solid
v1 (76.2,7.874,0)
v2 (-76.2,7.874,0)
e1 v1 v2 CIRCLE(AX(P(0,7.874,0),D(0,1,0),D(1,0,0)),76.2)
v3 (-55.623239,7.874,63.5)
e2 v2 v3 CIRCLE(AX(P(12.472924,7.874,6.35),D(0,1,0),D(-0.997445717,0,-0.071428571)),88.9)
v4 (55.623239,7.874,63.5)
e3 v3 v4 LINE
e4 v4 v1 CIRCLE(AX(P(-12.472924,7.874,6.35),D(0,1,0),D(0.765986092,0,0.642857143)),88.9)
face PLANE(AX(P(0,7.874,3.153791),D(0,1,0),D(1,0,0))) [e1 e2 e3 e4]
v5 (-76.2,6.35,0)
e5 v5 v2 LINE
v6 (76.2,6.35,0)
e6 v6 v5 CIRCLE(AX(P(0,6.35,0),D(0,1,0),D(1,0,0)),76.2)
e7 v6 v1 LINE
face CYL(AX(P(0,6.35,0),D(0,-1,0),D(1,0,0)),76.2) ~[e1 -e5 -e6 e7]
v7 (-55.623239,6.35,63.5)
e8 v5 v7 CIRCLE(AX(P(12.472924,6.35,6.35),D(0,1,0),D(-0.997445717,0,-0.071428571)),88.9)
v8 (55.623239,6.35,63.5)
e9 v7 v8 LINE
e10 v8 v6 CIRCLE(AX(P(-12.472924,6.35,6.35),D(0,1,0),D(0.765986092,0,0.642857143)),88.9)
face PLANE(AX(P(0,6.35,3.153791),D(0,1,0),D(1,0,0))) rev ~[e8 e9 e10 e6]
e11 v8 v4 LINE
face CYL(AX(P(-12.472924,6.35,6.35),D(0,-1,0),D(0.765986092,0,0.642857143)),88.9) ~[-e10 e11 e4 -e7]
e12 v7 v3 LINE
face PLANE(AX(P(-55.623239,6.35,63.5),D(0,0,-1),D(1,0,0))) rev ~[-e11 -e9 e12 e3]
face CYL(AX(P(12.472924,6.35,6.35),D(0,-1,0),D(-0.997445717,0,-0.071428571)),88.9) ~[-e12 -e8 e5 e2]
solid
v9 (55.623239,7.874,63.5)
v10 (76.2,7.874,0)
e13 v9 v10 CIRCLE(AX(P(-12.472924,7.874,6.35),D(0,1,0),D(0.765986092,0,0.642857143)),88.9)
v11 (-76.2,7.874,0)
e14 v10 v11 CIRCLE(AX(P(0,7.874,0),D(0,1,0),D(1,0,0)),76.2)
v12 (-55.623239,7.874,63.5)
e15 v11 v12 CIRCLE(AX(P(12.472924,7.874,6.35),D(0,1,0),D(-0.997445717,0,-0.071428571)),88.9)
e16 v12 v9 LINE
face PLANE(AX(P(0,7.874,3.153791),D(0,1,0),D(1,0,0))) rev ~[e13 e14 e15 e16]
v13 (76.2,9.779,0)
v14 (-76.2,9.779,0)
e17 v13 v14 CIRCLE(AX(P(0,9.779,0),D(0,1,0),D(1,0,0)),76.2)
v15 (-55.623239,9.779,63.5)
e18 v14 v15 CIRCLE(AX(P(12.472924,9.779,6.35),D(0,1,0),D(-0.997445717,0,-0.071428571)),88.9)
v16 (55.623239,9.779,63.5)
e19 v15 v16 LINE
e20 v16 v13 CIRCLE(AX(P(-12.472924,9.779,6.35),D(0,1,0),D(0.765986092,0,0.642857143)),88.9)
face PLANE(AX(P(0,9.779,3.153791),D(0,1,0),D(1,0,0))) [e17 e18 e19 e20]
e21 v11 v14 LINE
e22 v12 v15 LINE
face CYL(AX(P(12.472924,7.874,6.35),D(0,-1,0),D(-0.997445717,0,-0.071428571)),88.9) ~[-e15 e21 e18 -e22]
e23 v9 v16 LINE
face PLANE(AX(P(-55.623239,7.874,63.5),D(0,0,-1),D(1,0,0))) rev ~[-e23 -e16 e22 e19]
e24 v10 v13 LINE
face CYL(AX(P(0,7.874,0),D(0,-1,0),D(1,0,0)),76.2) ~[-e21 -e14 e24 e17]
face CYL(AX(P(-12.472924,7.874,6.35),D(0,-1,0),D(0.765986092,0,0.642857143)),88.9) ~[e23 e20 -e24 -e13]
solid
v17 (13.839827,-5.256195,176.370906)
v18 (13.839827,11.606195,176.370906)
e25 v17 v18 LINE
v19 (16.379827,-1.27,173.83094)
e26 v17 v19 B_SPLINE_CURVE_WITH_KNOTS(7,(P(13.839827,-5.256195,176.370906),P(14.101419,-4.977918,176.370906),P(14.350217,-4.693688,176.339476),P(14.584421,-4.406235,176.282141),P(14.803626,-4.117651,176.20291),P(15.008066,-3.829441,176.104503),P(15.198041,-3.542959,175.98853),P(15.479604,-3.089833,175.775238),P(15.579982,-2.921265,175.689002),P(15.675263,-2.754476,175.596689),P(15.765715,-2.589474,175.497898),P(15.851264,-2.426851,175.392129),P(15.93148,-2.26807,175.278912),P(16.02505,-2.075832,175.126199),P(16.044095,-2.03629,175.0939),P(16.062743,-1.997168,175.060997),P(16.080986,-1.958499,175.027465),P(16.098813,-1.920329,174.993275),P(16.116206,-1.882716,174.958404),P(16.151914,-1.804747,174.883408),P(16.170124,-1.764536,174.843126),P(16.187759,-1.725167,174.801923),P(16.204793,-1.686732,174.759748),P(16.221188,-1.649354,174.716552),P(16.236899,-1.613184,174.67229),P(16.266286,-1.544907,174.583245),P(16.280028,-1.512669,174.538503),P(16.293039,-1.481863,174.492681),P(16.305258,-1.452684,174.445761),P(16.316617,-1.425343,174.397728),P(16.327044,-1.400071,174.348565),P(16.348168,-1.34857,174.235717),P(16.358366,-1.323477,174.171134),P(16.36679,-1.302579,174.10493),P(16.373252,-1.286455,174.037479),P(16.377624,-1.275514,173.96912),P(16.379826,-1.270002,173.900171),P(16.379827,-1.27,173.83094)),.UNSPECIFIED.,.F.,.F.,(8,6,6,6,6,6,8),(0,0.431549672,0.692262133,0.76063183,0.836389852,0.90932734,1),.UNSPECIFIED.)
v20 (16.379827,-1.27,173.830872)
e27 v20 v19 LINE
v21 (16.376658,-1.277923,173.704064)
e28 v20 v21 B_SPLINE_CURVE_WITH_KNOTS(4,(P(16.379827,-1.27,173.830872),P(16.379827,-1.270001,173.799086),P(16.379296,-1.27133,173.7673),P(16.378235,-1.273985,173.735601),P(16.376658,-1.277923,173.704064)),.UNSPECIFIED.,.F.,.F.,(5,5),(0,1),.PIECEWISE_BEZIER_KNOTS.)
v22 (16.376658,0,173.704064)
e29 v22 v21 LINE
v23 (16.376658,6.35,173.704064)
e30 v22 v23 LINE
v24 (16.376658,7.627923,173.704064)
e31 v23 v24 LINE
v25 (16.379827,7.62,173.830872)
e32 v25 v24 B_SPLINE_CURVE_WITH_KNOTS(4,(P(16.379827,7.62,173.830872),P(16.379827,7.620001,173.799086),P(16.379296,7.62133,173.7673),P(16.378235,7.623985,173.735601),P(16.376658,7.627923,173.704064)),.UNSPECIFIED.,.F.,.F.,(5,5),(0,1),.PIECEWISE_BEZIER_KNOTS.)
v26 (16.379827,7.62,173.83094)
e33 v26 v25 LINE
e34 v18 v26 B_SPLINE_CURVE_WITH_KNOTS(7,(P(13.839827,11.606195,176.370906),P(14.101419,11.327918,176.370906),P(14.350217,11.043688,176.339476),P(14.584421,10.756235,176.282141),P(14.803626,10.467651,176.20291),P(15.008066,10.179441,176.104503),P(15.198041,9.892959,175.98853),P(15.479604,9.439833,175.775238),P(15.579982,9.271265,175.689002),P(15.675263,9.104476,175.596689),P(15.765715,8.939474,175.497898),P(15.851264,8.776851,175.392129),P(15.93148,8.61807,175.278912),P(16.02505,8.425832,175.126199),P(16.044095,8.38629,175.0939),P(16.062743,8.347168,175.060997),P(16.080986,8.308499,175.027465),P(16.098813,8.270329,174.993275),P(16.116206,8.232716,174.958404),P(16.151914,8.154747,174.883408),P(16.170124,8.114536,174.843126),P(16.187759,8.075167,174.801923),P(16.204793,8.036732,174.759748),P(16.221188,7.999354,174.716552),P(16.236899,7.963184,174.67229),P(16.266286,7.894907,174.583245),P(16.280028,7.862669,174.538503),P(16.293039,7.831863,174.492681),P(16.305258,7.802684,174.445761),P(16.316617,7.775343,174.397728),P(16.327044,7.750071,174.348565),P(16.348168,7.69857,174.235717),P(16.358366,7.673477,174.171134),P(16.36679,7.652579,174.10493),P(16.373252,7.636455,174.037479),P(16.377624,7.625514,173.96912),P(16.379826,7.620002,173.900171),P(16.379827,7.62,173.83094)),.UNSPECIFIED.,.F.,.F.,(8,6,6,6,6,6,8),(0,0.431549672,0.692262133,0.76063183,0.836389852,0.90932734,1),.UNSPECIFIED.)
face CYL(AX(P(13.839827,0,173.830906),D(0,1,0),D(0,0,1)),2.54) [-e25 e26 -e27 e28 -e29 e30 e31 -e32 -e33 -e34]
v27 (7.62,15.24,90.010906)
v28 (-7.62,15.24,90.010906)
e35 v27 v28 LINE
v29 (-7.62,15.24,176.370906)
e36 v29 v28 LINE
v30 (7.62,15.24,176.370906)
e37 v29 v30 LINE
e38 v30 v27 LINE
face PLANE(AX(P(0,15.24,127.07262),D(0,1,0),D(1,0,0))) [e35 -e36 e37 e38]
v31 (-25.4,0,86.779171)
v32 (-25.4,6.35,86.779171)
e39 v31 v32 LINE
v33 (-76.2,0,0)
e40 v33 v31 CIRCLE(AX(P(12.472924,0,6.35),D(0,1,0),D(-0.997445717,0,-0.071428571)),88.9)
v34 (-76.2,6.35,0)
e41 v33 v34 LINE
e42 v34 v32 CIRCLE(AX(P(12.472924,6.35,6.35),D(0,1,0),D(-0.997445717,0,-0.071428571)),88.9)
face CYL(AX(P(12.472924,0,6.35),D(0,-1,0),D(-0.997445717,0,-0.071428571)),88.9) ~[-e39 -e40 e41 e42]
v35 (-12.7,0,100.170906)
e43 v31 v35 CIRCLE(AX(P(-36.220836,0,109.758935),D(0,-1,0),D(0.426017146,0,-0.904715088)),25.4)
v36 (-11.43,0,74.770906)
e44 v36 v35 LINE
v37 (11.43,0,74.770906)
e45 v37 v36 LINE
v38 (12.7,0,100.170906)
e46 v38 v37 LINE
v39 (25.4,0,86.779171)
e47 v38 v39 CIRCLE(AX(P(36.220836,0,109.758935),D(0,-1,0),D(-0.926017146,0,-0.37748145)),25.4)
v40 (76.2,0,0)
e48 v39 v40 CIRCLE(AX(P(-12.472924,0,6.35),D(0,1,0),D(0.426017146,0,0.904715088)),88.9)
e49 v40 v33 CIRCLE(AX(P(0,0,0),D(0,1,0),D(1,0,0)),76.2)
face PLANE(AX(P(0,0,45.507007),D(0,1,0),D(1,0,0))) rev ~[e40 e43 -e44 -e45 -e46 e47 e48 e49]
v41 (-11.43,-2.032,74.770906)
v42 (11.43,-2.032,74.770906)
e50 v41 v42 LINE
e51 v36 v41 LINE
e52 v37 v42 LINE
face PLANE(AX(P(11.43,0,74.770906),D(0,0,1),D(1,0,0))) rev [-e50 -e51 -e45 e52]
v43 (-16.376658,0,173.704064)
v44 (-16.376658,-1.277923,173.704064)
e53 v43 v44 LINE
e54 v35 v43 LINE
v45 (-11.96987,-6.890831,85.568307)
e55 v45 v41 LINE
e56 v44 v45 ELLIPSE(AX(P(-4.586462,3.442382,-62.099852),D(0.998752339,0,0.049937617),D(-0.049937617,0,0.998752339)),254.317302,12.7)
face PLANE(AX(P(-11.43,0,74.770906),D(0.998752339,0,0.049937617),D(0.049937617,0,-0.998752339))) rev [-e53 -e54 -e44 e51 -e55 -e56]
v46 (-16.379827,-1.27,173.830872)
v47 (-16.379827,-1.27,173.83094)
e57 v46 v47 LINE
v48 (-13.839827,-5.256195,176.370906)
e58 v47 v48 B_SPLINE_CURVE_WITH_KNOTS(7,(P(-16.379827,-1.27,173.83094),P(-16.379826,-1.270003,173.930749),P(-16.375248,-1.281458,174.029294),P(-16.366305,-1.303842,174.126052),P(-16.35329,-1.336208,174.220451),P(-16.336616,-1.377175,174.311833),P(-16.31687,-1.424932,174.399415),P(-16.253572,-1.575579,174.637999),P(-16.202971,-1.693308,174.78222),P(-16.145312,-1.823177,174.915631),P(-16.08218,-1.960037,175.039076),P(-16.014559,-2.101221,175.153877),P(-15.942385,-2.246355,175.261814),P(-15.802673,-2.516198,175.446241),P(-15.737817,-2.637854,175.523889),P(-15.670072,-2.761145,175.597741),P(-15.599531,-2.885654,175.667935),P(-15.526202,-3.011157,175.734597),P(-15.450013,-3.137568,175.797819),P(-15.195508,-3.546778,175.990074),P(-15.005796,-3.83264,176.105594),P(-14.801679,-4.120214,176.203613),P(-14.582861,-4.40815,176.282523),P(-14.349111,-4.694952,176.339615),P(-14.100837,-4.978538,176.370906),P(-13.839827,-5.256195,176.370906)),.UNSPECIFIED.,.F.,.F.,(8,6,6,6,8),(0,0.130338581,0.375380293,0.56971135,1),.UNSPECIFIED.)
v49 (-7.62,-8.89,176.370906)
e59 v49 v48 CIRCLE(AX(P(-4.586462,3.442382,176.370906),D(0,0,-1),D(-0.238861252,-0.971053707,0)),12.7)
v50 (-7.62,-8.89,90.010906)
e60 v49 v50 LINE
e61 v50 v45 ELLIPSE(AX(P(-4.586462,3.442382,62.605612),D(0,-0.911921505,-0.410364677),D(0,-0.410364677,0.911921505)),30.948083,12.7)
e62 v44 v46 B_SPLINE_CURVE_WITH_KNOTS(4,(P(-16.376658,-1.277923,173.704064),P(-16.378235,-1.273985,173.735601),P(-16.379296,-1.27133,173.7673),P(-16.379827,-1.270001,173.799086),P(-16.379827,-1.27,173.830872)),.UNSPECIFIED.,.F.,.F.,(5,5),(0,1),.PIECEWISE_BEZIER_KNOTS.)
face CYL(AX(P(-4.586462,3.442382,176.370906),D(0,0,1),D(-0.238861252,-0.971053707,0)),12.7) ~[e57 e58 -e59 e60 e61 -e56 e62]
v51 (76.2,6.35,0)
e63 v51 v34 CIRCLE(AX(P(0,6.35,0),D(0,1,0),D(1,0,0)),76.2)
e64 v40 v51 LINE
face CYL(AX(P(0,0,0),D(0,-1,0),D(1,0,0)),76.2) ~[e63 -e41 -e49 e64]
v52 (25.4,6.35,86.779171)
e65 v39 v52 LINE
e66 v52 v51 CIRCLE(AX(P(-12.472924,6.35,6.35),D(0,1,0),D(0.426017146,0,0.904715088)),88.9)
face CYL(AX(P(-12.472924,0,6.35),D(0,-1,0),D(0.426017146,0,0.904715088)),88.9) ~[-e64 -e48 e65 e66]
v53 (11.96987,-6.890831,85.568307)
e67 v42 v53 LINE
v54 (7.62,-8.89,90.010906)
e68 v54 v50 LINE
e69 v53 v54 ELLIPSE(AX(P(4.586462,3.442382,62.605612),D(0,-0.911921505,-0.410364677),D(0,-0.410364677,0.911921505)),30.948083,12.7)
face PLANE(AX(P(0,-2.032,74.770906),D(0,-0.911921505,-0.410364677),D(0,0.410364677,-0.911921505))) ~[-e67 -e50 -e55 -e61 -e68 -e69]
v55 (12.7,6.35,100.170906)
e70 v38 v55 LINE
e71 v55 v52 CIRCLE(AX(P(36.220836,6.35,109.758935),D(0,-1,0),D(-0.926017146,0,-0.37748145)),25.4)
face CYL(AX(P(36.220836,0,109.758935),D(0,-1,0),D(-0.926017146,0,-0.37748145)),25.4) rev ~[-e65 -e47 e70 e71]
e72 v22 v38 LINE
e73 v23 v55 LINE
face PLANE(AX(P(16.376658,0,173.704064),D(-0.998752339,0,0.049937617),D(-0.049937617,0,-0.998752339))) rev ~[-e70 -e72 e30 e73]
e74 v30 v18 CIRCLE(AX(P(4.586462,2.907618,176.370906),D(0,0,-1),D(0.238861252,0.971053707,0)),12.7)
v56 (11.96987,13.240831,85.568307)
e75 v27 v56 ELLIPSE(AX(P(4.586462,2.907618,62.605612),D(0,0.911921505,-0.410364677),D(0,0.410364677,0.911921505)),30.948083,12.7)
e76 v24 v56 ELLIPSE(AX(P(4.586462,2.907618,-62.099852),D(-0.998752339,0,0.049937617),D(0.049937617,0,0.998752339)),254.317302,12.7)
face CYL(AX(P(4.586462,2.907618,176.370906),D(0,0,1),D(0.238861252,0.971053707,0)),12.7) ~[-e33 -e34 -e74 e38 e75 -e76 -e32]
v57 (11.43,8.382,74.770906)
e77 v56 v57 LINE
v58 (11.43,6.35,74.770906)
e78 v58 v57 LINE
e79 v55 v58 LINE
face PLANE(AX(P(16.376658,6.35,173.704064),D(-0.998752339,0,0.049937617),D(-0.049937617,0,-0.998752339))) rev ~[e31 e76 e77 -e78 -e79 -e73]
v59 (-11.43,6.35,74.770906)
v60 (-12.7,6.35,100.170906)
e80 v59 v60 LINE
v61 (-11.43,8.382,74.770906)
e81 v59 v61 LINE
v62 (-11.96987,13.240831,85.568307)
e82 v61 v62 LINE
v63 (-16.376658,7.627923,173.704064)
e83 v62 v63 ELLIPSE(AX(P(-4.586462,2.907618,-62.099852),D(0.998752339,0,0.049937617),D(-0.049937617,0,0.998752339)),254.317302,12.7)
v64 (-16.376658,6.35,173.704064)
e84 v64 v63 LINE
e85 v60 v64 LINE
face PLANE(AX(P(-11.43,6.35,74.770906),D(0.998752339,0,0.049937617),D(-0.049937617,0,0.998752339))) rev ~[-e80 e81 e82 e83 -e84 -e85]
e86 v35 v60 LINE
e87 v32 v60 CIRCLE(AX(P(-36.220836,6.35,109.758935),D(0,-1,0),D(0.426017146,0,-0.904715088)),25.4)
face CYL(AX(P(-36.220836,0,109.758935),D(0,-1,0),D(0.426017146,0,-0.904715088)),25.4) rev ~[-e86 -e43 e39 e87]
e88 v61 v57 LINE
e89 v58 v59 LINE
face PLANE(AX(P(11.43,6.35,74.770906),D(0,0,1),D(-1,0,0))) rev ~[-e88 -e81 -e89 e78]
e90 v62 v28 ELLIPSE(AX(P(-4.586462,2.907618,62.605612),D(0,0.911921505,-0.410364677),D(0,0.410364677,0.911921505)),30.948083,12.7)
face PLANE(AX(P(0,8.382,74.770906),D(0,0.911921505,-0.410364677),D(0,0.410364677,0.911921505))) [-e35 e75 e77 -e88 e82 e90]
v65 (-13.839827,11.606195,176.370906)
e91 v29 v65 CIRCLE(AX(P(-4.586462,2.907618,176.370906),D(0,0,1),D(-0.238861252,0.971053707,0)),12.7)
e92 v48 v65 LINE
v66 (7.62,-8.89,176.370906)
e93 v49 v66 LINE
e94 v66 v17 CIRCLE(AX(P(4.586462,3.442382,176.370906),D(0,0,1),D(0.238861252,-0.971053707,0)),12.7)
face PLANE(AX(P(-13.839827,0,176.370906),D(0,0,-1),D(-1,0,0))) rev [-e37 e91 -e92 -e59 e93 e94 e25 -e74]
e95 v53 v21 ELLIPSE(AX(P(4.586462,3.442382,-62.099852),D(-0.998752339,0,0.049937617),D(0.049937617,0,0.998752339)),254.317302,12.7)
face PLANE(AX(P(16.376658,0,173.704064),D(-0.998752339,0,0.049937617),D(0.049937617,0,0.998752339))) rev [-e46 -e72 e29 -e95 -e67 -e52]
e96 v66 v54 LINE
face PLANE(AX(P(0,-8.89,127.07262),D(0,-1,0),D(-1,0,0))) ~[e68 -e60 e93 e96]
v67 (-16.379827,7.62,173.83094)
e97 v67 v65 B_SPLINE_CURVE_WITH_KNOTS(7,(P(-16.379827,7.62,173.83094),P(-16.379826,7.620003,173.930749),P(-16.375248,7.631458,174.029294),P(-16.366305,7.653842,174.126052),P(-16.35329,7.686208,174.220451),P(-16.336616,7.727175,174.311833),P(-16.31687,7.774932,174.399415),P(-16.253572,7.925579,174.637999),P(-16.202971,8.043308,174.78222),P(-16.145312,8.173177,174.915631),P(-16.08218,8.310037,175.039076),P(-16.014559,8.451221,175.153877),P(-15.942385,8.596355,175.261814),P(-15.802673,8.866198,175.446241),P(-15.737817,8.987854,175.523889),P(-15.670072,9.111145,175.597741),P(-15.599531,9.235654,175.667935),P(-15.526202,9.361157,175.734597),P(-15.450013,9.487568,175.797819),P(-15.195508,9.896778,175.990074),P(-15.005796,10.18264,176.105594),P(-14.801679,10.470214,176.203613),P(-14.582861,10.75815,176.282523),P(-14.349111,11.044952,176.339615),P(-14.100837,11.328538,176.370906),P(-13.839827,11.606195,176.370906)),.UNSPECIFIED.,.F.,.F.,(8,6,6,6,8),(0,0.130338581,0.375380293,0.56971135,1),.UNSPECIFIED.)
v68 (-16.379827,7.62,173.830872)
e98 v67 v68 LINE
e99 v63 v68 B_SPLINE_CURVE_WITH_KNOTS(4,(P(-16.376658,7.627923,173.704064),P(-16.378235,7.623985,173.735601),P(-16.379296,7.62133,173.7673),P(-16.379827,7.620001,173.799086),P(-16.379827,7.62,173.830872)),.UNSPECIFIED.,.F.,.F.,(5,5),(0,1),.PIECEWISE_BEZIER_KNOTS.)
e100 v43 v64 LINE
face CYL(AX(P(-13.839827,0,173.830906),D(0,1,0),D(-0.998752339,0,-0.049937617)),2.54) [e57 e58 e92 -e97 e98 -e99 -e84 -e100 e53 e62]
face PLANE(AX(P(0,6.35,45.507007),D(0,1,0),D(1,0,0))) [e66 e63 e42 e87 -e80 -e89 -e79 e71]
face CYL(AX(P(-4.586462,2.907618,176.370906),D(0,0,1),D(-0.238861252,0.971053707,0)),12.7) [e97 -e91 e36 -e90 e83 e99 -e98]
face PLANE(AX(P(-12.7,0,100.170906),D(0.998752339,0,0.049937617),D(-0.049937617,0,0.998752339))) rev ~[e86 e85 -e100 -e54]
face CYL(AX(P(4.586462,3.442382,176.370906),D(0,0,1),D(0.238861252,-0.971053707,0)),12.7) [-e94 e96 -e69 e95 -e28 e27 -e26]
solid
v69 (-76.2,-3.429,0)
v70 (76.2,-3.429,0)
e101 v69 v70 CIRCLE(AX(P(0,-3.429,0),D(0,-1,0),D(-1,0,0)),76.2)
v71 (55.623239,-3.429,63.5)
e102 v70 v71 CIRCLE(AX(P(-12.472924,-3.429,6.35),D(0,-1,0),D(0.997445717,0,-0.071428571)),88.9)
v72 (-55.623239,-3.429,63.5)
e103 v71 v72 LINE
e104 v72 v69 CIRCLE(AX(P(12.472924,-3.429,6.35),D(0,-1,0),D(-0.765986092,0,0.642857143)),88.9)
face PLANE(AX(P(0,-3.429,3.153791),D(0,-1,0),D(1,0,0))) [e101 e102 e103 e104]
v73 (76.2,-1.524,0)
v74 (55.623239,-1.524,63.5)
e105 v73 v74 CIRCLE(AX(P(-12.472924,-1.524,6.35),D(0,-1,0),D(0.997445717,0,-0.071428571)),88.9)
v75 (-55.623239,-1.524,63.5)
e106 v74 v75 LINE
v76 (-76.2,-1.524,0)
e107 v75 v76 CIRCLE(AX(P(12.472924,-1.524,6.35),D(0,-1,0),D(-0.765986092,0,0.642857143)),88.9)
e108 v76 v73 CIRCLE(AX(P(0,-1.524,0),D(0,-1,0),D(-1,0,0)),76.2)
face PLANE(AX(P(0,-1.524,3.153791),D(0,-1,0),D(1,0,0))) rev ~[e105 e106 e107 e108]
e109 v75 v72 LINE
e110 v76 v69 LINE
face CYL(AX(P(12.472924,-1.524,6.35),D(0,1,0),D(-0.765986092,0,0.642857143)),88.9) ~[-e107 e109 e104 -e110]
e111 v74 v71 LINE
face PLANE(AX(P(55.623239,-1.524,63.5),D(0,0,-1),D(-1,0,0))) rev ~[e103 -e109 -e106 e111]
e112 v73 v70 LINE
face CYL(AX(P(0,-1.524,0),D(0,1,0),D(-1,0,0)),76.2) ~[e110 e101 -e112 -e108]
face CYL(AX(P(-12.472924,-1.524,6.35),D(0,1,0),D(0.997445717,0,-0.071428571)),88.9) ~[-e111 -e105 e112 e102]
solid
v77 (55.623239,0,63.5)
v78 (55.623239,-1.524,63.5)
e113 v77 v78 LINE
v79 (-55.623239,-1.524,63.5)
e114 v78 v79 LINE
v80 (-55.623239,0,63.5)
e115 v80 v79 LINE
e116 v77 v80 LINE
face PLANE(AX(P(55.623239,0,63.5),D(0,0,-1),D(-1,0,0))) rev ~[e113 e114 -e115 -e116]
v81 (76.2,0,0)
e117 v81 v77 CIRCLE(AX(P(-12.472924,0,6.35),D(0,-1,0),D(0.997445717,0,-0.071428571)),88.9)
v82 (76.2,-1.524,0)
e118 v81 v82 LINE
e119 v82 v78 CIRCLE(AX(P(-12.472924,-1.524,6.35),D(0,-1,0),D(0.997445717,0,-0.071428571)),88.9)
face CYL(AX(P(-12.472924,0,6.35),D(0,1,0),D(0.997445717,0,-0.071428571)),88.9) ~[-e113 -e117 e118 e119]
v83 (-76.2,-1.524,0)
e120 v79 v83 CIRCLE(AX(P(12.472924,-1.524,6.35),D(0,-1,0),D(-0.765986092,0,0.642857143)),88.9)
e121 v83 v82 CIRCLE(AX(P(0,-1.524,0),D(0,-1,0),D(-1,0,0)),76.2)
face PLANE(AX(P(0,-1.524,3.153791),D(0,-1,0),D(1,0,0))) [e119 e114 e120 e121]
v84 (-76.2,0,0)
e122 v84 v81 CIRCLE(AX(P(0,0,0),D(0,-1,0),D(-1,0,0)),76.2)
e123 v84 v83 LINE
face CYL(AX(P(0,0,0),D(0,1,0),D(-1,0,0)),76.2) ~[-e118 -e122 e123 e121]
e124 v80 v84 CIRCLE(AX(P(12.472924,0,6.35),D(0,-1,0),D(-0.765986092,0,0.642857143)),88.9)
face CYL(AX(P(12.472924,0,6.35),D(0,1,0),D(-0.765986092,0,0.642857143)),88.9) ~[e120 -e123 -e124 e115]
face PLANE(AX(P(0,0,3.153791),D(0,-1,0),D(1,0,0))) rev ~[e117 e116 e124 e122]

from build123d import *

# Parameters (mm, degrees)
BOSS_EXTRUDE1_DEPTH = 6.35
BOSS_EXTRUDE2_DEPTH = 1.524
BOSS_EXTRUDE4_DEPTH = 1.905
BOSS_EXTRUDE5_DEPTH = 1.524
BOSS_EXTRUDE6_DEPTH = 1.905
BOSS_EXTRUDE7_DEPTH = 8.89
CUT_EXTRUDE1_DEPTH  = 101.6
CUT_EXTRUDE2_DEPTH  = 25.4


with BuildPart() as part:
    # Sketch2 → Boss-Extrude1 (new body)
    with BuildSketch(Plane(origin=(0, 0, 0), x_dir=(1, 0, 0), z_dir=(0, 1, 0))):
        with BuildLine():
            Line((-12.7, -100.170905775), (-16.376657923, -173.704064228))
            ThreePointArc((-16.376657923, -173.704064228), (-15.680177156, -175.581537443), (-13.839826982, -176.370905775))
            Line((-13.839826982, -176.370905775), (13.839826982, -176.370905775))
            ThreePointArc((13.839826982, -176.370905775), (15.680177156, -175.581537443), (16.376657923, -173.704064228))
            Line((16.376657923, -173.704064228), (12.7, -100.170905775))
            ThreePointArc((12.7, -100.170905775), (17.790636658, -92.280726172), (25.4, -86.779171366))
            ThreePointArc((25.4, -86.779171366), (64.24812298, -51.26203522), (76.2, 0))
            ThreePointArc((76.2, 0), (0, 76.2), (-76.2, 0))
            ThreePointArc((-76.2, 0), (-64.24812298, -51.26203522), (-25.4, -86.779171366))
            ThreePointArc((-25.4, -86.779171366), (-17.790636658, -92.280726172), (-12.7, -100.170905775))
        make_face()
    extrude(amount=BOSS_EXTRUDE1_DEPTH)

    # Sketch7 → Boss-Extrude7 (add)
    with BuildSketch(Plane(origin=(0, 6.35, 0), x_dir=(1, 0, 0), z_dir=(0, 1, 0))):
        with BuildLine():
            Line((-11.43, -74.770905775), (-16.376657923, -173.704064228))
            ThreePointArc((-16.376657923, -173.704064228), (-15.680177156, -175.581537443), (-13.839826982, -176.370905775))
            Line((-13.839826982, -176.370905775), (13.839826982, -176.370905775))
            ThreePointArc((13.839826982, -176.370905775), (15.680177156, -175.581537443), (16.376657923, -173.704064228))
            Line((16.376657923, -173.704064228), (11.43, -74.770905775))
            Line((11.43, -74.770905775), (-11.43, -74.770905775))
        make_face()
    boss_extrude7 = extrude(amount=BOSS_EXTRUDE7_DEPTH)

    # Sketch8 → Cut-Extrude1 (cut)
    with BuildSketch(Plane.XY.offset(176.370905775)):
        with BuildLine():
            Line((-13.839826982, 15.24), (-7.62, 15.24))
            ThreePointArc((-7.62, 15.24), (-12.921650252, 12.489613458), (-16.379826982, 7.62))
            Line((-16.379826982, 7.62), (-16.379826982, 15.24))
            Line((-16.379826982, 15.24), (-13.839826982, 15.24))
        make_face()
        with BuildLine():
            Line((16.379826982, 15.24), (13.839826982, 15.24))
            Line((13.839826982, 15.24), (7.62, 15.24))
            ThreePointArc((7.62, 15.24), (12.921650252, 12.489613458), (16.379826982, 7.62))
            Line((16.379826982, 7.62), (16.379826982, 15.24))
        make_face()
    cut_extrude1 = extrude(amount=-CUT_EXTRUDE1_DEPTH, mode=Mode.SUBTRACT)

    # Sketch9 → Cut-Extrude2 (cut, symmetric)
    with BuildSketch(Plane(origin=(0, 0, -0.19192658), x_dir=(0, 0, -1), z_dir=(1, 0, 0))):
        Polygon((-74.962832355, 8.382), (-90.202832355, 15.24), (-74.962832355, 15.24), align=None)
    cut_extrude2 = extrude(amount=CUT_EXTRUDE2_DEPTH, both=True, mode=Mode.SUBTRACT)

    # Mirror8: Boss-Extrude7, Cut-Extrude1, Cut-Extrude2 across plane
    add(boss_extrude7.mirror(Plane.ZX.offset(3.175)))
    add(cut_extrude1.mirror(Plane.ZX.offset(3.175)), mode=Mode.SUBTRACT)
    add(cut_extrude2.mirror(Plane.ZX.offset(3.175)), mode=Mode.SUBTRACT)


with BuildPart() as body_2:
    # Sketch3 → Boss-Extrude2 (new body)
    with BuildSketch(Plane(origin=(0, 6.35, 0), x_dir=(1, 0, 0), z_dir=(0, 1, 0))):
        with BuildLine():
            Line((-55.623239344, -63.5), (55.623239344, -63.5))
            ThreePointArc((55.623239344, -63.5), (72.09775167, -33.754575709), (76.2, 0))
            ThreePointArc((76.2, 0), (0, 76.2), (-76.2, 0))
            ThreePointArc((-76.2, 0), (-72.09775167, -33.754575709), (-55.623239344, -63.5))
        make_face()
    extrude(amount=BOSS_EXTRUDE2_DEPTH)


with BuildPart() as body_3:
    # Sketch4 → Boss-Extrude4 (new body)
    with BuildSketch(Plane(origin=(0, 7.874, 0), x_dir=(1, 0, 0), z_dir=(0, 1, 0))):
        with BuildLine():
            Line((-55.623239344, -63.5), (55.623239344, -63.5))
            ThreePointArc((55.623239344, -63.5), (72.09775167, -33.754575709), (76.2, 0))
            ThreePointArc((76.2, 0), (0, 76.2), (-76.2, 0))
            ThreePointArc((-76.2, 0), (-72.09775167, -33.754575709), (-55.623239344, -63.5))
        make_face()
    extrude(amount=BOSS_EXTRUDE4_DEPTH)


with BuildPart() as body_4:
    # Sketch5 → Boss-Extrude5 (new body)
    with BuildSketch(Plane.XZ):
        with BuildLine():
            Line((55.623239344, 63.5), (-55.623239344, 63.5))
            ThreePointArc((-55.623239344, 63.5), (-72.09775167, 33.754575709), (-76.2, 0))
            ThreePointArc((-76.2, 0), (0, -76.2), (76.2, 0))
            ThreePointArc((76.2, 0), (72.09775167, 33.754575709), (55.623239344, 63.5))
        make_face()
    extrude(amount=BOSS_EXTRUDE5_DEPTH)


with BuildPart() as body_5:
    # Sketch6 → Boss-Extrude6 (new body)
    with BuildSketch(Plane.XZ.offset(1.524)):
        with BuildLine():
            Line((55.623239344, 63.5), (-55.623239344, 63.5))
            ThreePointArc((-55.623239344, 63.5), (-72.09775167, 33.754575709), (-76.2, 0))
            ThreePointArc((-76.2, 0), (0, -76.2), (76.2, 0))
            ThreePointArc((76.2, 0), (72.09775167, 33.754575709), (55.623239344, 63.5))
        make_face()
    extrude(amount=BOSS_EXTRUDE6_DEPTH)


solid = Compound([part.part, body_2.part, body_3.part, body_4.part, body_5.part])
